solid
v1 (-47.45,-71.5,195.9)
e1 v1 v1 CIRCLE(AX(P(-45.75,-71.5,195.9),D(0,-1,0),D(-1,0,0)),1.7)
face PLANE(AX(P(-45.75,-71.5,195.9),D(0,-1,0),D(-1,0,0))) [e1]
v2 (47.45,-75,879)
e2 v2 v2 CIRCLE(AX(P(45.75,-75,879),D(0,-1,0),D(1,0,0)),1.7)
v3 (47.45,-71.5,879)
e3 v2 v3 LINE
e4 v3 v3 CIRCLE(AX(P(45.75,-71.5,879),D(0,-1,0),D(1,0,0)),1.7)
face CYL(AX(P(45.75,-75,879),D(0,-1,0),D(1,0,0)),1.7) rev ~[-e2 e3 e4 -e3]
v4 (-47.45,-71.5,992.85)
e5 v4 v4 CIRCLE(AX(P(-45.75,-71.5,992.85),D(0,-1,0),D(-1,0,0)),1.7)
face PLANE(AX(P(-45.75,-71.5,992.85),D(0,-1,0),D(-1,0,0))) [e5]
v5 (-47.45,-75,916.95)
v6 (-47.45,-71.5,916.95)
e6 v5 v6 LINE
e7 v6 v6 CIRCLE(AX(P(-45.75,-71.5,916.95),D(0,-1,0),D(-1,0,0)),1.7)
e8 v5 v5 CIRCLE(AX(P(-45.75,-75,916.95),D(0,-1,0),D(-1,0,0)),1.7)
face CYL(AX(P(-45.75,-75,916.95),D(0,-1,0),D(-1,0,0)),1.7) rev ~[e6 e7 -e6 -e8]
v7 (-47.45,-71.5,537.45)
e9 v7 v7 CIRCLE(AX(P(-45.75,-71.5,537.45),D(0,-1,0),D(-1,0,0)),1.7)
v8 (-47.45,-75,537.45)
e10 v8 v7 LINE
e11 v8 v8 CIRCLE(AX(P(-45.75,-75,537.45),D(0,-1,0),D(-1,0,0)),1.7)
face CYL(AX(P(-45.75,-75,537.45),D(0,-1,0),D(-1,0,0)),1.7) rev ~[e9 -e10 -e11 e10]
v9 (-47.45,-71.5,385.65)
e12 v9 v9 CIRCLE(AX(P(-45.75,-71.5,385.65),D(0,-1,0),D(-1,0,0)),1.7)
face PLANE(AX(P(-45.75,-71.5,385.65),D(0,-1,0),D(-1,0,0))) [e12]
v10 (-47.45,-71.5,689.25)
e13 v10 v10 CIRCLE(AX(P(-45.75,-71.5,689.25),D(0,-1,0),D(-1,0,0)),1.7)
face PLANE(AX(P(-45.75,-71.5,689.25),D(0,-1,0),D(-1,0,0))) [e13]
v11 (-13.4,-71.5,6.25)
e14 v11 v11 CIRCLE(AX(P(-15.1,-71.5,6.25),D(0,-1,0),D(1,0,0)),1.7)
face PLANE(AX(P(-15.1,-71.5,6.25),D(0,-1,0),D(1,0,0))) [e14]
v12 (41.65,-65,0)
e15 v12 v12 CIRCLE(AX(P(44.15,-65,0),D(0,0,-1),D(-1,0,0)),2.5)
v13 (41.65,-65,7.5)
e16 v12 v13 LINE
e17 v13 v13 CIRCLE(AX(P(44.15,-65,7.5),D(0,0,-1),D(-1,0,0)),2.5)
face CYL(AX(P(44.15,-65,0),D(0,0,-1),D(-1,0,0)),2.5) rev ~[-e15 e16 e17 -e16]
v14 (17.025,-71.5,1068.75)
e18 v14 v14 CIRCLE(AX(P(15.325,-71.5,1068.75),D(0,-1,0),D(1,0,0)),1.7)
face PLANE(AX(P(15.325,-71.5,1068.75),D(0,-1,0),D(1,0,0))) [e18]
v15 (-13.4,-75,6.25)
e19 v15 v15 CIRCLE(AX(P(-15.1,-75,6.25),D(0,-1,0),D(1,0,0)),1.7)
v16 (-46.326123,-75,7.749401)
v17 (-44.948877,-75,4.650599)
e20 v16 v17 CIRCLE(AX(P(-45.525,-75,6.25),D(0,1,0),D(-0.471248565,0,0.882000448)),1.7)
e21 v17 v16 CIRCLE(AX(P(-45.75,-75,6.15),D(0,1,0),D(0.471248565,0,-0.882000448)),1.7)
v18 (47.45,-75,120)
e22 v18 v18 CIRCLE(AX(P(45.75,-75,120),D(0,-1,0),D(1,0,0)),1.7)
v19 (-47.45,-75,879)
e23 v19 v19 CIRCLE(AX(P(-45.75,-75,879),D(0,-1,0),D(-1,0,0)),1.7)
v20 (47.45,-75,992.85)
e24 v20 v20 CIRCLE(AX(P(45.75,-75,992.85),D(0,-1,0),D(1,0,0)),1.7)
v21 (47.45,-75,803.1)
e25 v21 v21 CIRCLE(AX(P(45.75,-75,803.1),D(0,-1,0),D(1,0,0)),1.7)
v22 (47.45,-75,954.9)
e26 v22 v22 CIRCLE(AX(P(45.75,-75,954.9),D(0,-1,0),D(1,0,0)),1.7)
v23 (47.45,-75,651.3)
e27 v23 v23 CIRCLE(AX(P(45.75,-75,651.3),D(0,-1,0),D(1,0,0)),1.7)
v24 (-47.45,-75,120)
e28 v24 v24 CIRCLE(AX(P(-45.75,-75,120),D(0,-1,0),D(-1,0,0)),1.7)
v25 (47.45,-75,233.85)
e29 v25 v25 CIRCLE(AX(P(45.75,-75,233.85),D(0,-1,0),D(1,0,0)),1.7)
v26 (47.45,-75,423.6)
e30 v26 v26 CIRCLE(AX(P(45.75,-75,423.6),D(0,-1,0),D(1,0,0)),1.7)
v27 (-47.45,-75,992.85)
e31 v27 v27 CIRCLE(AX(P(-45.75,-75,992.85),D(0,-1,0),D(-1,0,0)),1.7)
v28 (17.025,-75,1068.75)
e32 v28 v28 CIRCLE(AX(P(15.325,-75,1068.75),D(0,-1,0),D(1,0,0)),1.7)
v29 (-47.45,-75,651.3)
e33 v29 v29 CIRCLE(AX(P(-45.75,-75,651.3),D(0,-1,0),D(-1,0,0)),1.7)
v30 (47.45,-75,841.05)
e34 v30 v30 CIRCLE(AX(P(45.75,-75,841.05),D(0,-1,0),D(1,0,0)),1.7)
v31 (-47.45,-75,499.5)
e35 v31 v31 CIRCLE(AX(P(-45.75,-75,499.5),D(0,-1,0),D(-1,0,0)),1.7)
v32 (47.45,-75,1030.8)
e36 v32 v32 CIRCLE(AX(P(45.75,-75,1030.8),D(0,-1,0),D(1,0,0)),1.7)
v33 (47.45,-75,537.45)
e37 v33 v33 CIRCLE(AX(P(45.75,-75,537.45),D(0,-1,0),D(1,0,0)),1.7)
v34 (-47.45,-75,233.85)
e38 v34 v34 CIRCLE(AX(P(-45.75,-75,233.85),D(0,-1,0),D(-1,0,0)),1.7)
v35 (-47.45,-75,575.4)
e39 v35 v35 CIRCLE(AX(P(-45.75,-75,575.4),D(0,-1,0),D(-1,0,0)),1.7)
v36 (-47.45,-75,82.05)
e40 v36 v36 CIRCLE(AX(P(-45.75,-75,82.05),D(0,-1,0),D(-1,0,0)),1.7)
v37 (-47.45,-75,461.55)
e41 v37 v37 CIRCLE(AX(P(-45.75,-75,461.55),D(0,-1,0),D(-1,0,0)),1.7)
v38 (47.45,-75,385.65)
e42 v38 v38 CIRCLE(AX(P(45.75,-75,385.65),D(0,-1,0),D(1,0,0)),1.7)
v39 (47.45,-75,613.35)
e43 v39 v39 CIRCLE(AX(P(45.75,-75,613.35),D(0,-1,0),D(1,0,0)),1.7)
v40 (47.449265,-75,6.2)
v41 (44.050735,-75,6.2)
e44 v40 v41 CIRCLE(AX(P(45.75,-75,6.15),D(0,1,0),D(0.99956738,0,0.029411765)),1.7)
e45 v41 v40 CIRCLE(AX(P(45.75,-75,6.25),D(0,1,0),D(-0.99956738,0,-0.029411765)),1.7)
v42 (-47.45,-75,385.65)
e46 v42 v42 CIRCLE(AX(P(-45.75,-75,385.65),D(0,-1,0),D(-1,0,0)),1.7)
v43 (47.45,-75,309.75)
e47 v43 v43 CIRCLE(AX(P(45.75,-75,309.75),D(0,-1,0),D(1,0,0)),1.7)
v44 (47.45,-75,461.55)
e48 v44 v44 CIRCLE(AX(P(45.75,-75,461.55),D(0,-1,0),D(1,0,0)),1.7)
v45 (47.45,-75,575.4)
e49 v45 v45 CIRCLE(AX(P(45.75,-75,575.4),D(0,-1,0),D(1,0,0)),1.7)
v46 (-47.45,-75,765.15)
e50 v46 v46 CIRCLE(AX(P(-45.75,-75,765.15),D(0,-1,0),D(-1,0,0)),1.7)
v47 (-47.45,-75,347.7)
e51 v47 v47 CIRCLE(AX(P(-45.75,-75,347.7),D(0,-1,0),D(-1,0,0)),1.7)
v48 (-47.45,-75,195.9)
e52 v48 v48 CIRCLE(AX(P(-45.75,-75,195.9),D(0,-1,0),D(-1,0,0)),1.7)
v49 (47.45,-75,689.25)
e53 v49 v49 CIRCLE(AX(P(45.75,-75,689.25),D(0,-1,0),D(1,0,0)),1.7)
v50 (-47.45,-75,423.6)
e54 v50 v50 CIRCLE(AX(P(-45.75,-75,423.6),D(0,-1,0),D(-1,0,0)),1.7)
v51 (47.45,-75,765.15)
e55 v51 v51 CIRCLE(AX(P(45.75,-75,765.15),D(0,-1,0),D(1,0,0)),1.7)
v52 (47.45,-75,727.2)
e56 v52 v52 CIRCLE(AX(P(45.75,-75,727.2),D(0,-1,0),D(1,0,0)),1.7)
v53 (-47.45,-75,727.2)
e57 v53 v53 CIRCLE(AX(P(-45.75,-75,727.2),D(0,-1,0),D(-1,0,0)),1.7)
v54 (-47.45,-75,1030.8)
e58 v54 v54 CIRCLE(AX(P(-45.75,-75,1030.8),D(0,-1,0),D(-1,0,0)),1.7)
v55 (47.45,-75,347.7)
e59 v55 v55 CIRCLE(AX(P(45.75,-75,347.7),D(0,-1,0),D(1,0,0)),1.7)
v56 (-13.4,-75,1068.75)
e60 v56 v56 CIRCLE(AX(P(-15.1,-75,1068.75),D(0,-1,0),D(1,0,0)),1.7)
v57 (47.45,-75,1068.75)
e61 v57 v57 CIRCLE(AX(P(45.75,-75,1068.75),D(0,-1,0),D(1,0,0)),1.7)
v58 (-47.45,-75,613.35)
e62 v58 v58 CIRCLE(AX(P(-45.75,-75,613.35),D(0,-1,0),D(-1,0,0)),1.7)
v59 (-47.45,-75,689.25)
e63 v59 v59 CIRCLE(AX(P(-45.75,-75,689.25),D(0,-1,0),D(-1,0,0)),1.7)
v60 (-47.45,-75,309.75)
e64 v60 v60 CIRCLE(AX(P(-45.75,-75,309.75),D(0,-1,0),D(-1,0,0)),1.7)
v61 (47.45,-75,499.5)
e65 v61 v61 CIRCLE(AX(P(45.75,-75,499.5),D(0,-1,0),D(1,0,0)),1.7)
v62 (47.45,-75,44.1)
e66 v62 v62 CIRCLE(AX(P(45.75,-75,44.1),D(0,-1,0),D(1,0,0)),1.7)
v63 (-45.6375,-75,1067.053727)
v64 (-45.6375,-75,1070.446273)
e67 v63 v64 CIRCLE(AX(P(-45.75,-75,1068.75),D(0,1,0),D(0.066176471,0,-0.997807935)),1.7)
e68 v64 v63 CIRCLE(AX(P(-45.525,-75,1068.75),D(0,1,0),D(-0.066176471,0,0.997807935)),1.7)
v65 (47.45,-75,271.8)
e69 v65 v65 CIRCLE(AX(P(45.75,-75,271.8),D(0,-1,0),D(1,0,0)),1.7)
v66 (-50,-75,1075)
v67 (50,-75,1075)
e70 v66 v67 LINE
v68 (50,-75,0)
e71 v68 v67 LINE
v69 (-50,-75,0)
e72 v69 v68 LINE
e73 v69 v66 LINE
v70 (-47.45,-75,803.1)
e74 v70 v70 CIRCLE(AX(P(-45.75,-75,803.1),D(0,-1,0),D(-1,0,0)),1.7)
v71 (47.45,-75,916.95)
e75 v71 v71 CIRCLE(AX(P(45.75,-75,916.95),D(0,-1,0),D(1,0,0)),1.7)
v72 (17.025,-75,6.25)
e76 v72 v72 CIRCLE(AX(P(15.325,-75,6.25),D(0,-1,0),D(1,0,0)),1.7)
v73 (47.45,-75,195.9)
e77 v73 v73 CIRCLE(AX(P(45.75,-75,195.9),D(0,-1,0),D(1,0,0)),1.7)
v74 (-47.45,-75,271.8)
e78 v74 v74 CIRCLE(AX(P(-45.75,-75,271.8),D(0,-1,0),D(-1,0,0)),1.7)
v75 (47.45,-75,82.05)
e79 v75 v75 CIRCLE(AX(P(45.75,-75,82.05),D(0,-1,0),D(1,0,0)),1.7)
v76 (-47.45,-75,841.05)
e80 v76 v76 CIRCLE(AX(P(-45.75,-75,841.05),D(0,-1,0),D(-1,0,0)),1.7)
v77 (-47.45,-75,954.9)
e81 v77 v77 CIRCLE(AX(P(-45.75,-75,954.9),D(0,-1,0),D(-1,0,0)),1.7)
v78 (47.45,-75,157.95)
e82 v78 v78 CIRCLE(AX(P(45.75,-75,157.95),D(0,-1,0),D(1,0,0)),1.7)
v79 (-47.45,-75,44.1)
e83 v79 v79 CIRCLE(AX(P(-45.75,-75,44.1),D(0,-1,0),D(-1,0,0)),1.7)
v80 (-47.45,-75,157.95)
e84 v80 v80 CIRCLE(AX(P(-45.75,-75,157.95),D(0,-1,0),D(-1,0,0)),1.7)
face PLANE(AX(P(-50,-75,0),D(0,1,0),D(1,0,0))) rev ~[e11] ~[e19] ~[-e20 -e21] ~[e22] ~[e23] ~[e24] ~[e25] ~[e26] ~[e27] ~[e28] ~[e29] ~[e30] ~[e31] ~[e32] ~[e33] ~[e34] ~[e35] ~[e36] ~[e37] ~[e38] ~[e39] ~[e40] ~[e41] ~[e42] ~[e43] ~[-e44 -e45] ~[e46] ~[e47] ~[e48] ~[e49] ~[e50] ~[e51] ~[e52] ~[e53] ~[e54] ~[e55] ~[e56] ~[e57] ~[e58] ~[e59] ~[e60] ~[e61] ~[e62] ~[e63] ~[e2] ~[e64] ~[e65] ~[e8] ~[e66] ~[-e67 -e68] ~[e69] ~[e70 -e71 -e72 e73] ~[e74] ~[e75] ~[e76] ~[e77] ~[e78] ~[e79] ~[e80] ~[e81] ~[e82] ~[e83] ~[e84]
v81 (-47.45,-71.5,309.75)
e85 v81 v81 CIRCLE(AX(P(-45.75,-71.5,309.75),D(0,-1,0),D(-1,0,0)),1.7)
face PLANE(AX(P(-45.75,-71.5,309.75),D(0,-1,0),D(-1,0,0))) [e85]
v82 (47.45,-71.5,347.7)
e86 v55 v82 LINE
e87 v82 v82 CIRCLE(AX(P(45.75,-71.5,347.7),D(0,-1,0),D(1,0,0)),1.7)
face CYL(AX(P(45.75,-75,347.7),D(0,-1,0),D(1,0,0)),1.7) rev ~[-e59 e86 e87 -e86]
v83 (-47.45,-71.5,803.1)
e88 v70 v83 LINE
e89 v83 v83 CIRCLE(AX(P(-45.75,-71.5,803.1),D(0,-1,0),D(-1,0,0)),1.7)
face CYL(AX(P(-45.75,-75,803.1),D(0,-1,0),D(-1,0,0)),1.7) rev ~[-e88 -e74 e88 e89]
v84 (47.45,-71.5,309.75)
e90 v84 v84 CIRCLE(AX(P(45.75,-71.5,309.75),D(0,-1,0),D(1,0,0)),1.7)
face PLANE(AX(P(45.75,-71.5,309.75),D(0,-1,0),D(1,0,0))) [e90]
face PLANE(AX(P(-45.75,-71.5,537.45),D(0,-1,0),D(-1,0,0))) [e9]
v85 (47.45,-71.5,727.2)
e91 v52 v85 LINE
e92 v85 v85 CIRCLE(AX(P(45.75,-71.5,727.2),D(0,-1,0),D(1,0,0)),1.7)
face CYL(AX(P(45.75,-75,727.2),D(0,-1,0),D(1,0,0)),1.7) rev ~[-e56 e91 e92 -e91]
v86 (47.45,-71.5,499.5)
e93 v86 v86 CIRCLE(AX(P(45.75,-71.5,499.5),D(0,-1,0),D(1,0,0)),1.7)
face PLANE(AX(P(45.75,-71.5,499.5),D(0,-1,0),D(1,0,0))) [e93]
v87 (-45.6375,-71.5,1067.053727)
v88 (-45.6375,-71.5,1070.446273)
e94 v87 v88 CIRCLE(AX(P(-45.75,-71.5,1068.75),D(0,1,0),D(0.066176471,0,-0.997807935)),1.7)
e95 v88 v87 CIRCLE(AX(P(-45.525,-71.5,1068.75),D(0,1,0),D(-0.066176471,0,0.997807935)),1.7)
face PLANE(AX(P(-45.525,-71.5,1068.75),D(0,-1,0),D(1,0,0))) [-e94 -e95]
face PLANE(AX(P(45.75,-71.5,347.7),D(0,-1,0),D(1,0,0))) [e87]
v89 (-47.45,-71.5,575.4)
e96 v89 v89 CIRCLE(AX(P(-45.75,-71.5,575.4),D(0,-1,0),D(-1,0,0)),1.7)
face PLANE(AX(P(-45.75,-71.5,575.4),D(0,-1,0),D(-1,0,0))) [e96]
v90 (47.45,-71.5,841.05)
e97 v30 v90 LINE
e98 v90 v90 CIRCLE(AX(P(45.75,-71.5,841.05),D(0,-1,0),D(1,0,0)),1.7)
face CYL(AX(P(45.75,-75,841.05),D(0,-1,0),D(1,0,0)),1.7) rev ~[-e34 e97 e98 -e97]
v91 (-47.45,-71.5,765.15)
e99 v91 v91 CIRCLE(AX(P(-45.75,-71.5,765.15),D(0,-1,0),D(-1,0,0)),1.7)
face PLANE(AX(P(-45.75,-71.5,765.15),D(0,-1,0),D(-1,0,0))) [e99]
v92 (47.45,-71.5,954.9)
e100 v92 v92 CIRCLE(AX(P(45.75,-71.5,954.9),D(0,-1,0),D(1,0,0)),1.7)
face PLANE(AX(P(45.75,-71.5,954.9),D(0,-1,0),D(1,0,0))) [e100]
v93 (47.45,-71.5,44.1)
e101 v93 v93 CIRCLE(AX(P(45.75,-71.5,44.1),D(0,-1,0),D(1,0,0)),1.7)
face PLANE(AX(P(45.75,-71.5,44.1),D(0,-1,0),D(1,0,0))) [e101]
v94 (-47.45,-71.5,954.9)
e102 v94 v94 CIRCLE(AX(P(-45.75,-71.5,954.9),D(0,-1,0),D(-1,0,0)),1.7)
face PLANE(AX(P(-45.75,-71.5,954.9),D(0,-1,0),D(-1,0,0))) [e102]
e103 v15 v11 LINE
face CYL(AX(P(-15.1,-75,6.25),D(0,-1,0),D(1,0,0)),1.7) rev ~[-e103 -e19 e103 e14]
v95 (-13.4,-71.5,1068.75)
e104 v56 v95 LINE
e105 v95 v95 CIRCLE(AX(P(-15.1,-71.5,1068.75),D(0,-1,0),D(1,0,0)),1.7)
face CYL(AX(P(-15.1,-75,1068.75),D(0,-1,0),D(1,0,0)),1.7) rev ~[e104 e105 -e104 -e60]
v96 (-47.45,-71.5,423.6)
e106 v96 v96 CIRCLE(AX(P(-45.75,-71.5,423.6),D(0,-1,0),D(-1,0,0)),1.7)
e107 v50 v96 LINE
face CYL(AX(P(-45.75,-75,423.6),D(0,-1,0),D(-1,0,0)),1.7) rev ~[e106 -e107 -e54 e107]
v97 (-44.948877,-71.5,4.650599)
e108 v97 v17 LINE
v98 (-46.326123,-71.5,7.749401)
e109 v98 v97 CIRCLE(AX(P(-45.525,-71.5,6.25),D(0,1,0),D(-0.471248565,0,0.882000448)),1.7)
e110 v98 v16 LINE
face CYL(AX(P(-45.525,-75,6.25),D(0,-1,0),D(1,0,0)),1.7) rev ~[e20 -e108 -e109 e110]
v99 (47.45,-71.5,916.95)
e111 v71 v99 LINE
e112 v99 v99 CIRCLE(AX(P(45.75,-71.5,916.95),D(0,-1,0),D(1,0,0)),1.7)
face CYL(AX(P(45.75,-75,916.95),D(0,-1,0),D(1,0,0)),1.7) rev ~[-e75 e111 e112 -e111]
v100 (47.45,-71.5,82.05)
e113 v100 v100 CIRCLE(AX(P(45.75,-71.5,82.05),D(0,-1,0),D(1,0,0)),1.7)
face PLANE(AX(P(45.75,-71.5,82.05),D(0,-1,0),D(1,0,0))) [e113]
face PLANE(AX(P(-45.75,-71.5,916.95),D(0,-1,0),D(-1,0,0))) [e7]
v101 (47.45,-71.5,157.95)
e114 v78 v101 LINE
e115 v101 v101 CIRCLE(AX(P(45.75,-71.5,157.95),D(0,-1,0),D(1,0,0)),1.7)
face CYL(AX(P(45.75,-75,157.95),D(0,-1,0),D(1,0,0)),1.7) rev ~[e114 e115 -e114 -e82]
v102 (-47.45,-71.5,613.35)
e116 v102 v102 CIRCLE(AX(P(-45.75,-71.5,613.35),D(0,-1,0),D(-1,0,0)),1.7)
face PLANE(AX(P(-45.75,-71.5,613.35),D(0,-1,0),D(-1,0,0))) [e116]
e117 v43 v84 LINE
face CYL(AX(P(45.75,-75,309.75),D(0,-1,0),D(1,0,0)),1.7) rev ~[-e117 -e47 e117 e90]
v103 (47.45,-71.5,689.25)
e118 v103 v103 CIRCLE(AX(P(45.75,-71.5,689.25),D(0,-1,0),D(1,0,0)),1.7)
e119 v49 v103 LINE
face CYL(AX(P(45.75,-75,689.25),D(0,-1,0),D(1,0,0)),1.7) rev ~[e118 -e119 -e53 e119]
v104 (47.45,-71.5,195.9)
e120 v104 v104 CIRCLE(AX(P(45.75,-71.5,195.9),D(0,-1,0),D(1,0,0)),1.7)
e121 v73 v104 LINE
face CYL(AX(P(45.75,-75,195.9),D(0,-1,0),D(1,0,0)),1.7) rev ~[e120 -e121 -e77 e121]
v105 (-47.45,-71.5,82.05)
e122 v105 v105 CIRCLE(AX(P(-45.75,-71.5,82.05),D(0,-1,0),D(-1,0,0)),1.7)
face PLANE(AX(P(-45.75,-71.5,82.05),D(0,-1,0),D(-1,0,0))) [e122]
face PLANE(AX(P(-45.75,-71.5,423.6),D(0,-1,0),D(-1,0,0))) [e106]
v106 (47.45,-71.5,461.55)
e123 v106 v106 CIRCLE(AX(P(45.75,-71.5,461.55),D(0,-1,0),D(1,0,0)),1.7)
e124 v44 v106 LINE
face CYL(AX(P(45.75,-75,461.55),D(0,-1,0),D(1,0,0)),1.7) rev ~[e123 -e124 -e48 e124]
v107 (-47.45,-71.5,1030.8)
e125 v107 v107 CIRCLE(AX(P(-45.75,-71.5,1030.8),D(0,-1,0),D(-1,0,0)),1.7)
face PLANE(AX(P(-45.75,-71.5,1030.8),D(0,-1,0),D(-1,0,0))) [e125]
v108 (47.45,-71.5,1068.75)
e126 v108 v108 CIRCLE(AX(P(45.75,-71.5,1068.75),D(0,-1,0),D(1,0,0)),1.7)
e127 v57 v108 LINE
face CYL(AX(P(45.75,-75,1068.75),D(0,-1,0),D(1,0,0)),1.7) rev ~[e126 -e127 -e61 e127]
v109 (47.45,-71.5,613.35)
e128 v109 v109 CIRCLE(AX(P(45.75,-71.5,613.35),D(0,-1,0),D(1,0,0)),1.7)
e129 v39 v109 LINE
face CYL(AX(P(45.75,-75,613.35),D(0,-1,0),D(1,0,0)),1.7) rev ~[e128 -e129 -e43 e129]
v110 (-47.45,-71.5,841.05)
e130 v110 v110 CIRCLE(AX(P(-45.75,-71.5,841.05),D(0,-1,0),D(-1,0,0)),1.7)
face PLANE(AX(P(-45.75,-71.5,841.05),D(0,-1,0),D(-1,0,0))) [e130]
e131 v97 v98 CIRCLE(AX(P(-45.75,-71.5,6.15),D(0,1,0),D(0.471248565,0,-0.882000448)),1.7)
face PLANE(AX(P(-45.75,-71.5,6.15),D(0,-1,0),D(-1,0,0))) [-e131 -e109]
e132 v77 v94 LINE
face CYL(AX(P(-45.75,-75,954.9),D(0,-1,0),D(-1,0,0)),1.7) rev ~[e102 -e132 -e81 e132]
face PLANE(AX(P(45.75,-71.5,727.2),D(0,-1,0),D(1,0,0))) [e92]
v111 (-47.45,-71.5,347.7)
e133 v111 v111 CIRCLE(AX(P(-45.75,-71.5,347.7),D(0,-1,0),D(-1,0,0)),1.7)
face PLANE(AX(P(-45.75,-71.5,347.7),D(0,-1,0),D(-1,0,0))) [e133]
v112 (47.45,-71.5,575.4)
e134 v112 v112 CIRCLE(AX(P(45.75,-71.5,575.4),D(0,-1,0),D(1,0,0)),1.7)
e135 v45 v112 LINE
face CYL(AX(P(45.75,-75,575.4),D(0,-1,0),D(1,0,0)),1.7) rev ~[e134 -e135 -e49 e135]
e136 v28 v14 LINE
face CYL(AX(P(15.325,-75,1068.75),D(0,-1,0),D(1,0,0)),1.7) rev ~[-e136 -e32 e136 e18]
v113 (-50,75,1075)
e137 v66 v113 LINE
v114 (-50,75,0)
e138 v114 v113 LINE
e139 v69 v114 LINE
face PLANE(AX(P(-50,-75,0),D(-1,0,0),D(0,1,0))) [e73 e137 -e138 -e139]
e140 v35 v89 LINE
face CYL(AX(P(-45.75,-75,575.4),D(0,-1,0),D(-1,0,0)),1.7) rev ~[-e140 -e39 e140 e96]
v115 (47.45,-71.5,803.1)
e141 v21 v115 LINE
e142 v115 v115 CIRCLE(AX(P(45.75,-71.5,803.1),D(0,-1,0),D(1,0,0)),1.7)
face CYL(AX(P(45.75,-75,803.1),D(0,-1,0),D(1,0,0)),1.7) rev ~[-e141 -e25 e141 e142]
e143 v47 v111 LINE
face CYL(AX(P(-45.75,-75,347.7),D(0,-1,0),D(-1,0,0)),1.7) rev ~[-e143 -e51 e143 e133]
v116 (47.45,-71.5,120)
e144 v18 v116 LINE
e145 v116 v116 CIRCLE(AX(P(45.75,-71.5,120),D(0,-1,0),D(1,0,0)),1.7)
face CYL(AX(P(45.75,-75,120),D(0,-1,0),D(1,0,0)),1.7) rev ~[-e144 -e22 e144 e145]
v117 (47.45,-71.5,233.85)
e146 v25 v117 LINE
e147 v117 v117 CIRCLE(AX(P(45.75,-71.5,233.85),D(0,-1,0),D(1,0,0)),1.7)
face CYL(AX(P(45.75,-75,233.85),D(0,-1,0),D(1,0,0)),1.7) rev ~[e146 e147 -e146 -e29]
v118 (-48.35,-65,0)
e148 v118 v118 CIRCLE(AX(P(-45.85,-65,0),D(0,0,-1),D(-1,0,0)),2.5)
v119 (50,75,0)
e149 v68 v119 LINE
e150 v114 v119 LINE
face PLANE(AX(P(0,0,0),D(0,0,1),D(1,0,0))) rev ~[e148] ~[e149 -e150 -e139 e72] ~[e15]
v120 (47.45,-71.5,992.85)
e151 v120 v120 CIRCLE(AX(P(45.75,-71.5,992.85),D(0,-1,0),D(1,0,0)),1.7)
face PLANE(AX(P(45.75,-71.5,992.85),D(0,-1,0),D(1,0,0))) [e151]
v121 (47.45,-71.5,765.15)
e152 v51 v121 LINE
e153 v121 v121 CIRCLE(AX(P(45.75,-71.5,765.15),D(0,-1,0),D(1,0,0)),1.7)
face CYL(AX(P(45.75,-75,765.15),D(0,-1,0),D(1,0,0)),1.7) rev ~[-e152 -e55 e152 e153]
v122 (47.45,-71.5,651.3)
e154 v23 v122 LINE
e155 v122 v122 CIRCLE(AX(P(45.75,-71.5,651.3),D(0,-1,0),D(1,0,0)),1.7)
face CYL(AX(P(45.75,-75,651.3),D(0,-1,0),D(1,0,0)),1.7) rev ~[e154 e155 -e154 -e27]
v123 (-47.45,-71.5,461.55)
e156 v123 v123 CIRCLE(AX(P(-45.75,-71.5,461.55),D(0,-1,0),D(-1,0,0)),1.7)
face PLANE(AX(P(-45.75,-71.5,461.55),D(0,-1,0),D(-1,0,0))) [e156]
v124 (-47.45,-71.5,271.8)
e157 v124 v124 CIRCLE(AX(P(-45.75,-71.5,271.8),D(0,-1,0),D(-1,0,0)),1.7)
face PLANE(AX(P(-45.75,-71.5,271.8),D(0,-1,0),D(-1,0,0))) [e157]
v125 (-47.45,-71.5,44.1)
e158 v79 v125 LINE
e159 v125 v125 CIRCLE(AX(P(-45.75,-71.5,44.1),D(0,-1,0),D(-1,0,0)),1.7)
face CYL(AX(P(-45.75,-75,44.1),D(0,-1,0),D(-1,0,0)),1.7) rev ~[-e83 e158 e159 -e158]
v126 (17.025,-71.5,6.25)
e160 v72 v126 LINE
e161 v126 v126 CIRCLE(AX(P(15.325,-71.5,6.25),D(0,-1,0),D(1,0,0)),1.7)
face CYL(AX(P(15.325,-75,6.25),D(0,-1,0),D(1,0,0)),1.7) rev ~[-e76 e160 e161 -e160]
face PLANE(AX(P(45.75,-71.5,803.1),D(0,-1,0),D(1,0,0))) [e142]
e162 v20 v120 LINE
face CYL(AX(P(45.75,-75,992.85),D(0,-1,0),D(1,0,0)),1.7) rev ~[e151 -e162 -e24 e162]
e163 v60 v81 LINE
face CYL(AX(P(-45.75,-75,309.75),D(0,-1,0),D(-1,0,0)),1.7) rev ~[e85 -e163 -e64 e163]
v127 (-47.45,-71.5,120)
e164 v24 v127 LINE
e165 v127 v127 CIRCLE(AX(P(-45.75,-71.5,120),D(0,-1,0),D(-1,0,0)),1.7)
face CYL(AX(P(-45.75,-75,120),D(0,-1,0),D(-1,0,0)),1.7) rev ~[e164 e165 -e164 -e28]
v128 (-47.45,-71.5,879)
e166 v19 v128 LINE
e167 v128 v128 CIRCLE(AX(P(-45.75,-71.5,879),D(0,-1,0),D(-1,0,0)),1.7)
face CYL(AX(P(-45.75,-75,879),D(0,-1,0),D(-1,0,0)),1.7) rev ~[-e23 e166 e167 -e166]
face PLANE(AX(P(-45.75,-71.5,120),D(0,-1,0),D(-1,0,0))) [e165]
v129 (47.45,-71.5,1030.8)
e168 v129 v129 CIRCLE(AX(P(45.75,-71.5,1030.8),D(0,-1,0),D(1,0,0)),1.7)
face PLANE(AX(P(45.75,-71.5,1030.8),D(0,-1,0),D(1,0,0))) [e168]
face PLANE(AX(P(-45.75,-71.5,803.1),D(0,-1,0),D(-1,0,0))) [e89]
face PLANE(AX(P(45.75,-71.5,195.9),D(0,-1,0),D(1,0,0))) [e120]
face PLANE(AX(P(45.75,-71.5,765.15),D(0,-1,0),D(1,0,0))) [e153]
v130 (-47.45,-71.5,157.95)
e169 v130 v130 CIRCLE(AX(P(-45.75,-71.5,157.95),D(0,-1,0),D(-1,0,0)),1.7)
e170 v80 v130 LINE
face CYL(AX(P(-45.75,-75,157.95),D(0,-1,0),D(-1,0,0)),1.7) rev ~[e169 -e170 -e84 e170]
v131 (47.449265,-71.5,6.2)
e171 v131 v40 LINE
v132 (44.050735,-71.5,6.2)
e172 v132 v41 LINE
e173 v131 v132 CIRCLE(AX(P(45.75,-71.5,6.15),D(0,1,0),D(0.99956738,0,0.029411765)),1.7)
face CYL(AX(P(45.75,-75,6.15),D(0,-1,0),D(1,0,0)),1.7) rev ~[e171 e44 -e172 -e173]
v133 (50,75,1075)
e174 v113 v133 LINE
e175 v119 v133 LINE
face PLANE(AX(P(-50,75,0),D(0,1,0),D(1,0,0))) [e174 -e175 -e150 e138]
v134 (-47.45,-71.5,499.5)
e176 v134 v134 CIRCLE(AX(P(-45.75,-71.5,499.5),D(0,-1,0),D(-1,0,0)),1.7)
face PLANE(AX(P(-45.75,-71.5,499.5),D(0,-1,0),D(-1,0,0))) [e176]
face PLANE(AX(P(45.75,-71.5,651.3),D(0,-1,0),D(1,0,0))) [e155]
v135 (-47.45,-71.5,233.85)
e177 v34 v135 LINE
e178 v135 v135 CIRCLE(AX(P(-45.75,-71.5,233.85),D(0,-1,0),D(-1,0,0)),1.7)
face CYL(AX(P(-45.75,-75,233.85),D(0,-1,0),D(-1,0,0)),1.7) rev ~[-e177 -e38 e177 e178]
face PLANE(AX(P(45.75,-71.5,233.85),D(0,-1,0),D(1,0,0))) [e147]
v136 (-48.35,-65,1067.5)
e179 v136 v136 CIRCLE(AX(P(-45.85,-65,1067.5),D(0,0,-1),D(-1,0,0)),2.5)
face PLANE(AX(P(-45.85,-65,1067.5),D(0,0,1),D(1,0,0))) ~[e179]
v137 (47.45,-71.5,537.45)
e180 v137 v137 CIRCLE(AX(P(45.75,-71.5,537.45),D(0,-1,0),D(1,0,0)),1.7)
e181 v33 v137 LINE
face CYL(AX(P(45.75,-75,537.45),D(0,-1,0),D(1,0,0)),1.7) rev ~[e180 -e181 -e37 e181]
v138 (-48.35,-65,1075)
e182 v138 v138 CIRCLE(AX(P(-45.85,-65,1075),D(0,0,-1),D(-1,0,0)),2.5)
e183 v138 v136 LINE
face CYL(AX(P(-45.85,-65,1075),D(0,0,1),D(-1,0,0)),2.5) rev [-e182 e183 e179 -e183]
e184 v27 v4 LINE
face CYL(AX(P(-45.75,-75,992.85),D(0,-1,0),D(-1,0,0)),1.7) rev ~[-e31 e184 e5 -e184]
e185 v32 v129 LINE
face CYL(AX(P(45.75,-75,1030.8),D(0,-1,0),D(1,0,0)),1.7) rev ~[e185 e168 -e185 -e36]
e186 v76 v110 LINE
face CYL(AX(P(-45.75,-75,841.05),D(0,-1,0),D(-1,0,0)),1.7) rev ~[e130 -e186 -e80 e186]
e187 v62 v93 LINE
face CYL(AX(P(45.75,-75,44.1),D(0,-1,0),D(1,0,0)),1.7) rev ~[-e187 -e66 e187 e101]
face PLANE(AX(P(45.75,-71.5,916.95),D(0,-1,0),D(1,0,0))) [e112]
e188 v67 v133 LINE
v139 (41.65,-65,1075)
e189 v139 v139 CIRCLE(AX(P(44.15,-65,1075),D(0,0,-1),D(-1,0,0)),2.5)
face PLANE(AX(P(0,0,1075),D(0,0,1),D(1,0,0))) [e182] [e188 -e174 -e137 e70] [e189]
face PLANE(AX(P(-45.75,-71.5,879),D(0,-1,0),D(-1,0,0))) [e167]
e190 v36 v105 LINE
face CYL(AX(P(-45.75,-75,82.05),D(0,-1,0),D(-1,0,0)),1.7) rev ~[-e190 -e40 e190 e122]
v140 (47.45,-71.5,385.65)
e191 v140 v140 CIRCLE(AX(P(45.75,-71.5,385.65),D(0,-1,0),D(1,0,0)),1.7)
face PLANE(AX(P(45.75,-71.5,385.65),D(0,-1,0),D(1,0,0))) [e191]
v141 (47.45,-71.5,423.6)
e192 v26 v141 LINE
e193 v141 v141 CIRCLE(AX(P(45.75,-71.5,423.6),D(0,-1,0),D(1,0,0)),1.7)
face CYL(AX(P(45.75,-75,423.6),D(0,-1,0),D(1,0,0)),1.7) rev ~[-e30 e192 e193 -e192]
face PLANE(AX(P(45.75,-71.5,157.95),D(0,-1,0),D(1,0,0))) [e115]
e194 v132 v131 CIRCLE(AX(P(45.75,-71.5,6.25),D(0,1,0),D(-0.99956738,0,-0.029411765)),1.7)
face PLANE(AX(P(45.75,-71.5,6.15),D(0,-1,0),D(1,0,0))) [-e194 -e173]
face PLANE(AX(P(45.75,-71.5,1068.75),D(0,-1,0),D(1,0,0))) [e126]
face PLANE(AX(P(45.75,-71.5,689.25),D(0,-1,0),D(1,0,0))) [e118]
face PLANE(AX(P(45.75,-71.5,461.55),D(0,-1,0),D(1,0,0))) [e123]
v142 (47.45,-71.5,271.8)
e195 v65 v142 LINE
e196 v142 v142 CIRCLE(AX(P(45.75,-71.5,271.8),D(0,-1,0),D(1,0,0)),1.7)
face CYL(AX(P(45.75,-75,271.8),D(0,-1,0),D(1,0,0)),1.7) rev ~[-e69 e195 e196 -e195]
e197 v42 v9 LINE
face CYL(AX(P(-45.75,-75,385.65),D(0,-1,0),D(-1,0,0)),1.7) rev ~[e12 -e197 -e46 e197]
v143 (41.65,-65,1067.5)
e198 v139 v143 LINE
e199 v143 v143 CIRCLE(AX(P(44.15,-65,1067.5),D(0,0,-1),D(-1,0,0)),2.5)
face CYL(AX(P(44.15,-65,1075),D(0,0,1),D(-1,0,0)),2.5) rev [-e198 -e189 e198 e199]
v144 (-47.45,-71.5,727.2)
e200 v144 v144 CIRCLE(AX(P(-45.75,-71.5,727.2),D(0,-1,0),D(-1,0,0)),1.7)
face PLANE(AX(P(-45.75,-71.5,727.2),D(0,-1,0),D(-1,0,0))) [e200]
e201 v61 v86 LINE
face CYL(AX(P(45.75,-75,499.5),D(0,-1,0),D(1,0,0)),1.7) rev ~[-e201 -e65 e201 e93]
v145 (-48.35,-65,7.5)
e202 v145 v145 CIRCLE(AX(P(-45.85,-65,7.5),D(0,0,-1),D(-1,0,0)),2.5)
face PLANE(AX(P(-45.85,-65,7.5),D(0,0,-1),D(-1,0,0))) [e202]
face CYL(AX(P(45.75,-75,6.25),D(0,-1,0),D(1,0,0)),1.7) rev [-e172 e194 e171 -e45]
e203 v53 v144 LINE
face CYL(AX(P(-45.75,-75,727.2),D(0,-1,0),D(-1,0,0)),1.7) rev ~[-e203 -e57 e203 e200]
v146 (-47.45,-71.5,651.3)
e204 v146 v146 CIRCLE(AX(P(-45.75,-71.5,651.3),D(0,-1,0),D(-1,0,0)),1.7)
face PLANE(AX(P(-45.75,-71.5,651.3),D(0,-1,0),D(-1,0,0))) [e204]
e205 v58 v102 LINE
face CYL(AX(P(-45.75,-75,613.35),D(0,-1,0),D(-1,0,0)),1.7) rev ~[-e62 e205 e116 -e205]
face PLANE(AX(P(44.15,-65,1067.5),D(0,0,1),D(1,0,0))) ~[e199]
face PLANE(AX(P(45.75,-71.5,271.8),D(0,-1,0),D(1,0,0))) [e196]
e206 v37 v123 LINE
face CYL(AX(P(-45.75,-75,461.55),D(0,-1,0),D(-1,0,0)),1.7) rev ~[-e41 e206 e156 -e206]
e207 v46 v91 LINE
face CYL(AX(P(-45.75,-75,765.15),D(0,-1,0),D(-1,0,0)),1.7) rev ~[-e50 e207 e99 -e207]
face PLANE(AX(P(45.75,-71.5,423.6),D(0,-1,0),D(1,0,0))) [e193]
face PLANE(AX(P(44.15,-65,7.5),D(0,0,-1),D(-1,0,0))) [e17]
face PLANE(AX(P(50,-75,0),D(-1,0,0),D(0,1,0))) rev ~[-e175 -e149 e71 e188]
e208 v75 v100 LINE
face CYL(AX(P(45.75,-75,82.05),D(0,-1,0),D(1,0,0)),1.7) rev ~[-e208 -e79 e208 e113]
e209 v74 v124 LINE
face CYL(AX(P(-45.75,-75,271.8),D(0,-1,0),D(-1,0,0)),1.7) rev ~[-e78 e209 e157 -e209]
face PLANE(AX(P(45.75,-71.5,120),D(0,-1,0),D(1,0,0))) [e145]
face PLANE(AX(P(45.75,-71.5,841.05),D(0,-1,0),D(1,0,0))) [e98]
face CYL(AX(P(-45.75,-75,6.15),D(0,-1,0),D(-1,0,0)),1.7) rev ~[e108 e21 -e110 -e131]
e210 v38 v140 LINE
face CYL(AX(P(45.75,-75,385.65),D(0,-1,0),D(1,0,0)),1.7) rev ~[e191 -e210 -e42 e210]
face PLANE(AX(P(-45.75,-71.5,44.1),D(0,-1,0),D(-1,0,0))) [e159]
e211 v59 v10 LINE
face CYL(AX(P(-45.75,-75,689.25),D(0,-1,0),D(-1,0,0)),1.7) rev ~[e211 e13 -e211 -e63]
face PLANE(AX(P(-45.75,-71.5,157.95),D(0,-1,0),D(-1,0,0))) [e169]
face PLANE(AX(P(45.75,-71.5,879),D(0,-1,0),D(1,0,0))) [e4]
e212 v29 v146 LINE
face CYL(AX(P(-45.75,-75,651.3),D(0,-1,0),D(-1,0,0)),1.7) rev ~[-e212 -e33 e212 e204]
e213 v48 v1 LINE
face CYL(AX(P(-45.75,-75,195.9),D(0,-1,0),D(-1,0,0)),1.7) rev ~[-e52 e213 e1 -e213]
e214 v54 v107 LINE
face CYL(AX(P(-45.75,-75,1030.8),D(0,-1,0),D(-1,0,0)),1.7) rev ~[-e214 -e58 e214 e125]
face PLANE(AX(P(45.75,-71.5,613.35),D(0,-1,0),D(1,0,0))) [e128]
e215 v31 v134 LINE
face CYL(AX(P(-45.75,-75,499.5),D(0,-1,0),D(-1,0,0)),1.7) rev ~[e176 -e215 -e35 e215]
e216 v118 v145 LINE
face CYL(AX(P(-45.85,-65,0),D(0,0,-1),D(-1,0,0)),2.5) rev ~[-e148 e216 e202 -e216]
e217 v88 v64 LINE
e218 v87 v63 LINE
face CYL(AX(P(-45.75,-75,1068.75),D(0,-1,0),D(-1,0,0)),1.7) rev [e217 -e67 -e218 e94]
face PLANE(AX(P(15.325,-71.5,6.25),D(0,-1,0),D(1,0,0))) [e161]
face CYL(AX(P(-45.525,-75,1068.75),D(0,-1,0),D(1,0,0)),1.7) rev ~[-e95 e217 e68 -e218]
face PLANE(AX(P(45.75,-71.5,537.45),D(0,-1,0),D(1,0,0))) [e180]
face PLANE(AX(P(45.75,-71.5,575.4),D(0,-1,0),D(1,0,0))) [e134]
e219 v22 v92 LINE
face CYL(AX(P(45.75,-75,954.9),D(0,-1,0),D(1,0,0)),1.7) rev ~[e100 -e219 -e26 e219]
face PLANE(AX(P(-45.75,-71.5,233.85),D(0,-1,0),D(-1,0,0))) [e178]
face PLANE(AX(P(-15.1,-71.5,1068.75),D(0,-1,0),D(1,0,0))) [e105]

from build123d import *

# Parameters (mm, degrees)
SKETCH1_W                = 100
SKETCH1_H                = 150
BOSS_EXTRUDE1_DEPTH      = 1075
SKETCH3_R                = 1.7
CUT_EXTRUDE1_DEPTH       = 3.5
LPATTERN1_COUNT          = 29
LPATTERN1_PITCH          = 37.95
LPATTERN2_COUNT          = 4
LPATTERN2_PITCH          = 30.425
MIRROR1_COPY_1_SKETCH_R  = 1.7
MIRROR1_COPY_1_DEPTH     = 3.5
MIRROR1_COPY_2_SKETCH_R  = 1.7
MIRROR1_COPY_2_DEPTH     = 3.5
MIRROR1_COPY_3_SKETCH_R  = 1.7
MIRROR1_COPY_3_DEPTH     = 3.5
MIRROR1_COPY_4_SKETCH_R  = 1.7
MIRROR1_COPY_4_DEPTH     = 3.5
MIRROR1_COPY_5_SKETCH_R  = 1.7
MIRROR1_COPY_5_DEPTH     = 3.5
MIRROR1_COPY_6_SKETCH_R  = 1.7
MIRROR1_COPY_6_DEPTH     = 3.5
MIRROR1_COPY_7_SKETCH_R  = 1.7
MIRROR1_COPY_7_DEPTH     = 3.5
MIRROR1_COPY_8_SKETCH_R  = 1.7
MIRROR1_COPY_8_DEPTH     = 3.5
MIRROR1_COPY_9_SKETCH_R  = 1.7
MIRROR1_COPY_9_DEPTH     = 3.5
MIRROR1_COPY_10_SKETCH_R = 1.7
MIRROR1_COPY_10_DEPTH    = 3.5
MIRROR1_COPY_11_SKETCH_R = 1.7
MIRROR1_COPY_11_DEPTH    = 3.5
MIRROR1_COPY_12_SKETCH_R = 1.7
MIRROR1_COPY_12_DEPTH    = 3.5
MIRROR1_COPY_13_SKETCH_R = 1.7
MIRROR1_COPY_13_DEPTH    = 3.5
MIRROR1_COPY_14_SKETCH_R = 1.7
MIRROR1_COPY_14_DEPTH    = 3.5
MIRROR1_COPY_15_SKETCH_R = 1.7
MIRROR1_COPY_15_DEPTH    = 3.5
MIRROR1_COPY_16_SKETCH_R = 1.7
MIRROR1_COPY_16_DEPTH    = 3.5
MIRROR1_COPY_17_SKETCH_R = 1.7
MIRROR1_COPY_17_DEPTH    = 3.5
MIRROR1_COPY_18_SKETCH_R = 1.7
MIRROR1_COPY_18_DEPTH    = 3.5
MIRROR1_COPY_19_SKETCH_R = 1.7
MIRROR1_COPY_19_DEPTH    = 3.5
MIRROR1_COPY_20_SKETCH_R = 1.7
MIRROR1_COPY_20_DEPTH    = 3.5
MIRROR1_COPY_21_SKETCH_R = 1.7
MIRROR1_COPY_21_DEPTH    = 3.5
MIRROR1_COPY_22_SKETCH_R = 1.7
MIRROR1_COPY_22_DEPTH    = 3.5
MIRROR1_COPY_23_SKETCH_R = 1.7
MIRROR1_COPY_23_DEPTH    = 3.5
MIRROR1_COPY_24_SKETCH_R = 1.7
MIRROR1_COPY_24_DEPTH    = 3.5
MIRROR1_COPY_25_SKETCH_R = 1.7
MIRROR1_COPY_25_DEPTH    = 3.5
MIRROR1_COPY_26_SKETCH_R = 1.7
MIRROR1_COPY_26_DEPTH    = 3.5
MIRROR1_COPY_27_SKETCH_R = 1.7
MIRROR1_COPY_27_DEPTH    = 3.5
MIRROR1_COPY_28_SKETCH_R = 1.7
MIRROR1_COPY_28_DEPTH    = 3.5
MIRROR2_COPY_1_SKETCH_R  = 1.7
MIRROR2_COPY_1_DEPTH     = 3.5
MIRROR2_COPY_2_SKETCH_R  = 1.7
MIRROR2_COPY_2_DEPTH     = 3.5
MIRROR2_COPY_3_SKETCH_R  = 1.7
MIRROR2_COPY_3_DEPTH     = 3.5
SKETCH4_R                = 2.5
CUT_EXTRUDE2_DEPTH       = 7.5


with BuildPart() as part:
    # Sketch1 → Boss-Extrude1 (new body)
    with BuildSketch(Plane.XY):
        Rectangle(SKETCH1_W, SKETCH1_H)
    extrude(amount=BOSS_EXTRUDE1_DEPTH)

    # Sketch3 → Cut-Extrude1 (cut)
    with BuildSketch(Plane.XZ.offset(75)):
        with Locations((45.75, 1068.75)):
            Circle(SKETCH3_R)
    cut_extrude1 = extrude(amount=-CUT_EXTRUDE1_DEPTH, mode=Mode.SUBTRACT)

    # LPattern1: Cut-Extrude1 ×29
    with Locations(*[(0, 0, -i * LPATTERN1_PITCH) for i in range(1, LPATTERN1_COUNT)]):
        add(cut_extrude1, mode=Mode.SUBTRACT)

    # LPattern2: Cut-Extrude1 ×4
    with Locations(*[(-i * LPATTERN2_PITCH, 0, 0) for i in range(1, LPATTERN2_COUNT)]):
        add(cut_extrude1, mode=Mode.SUBTRACT)

    # Mirror1: Cut-Extrude1 across plane
    add(cut_extrude1.mirror(Plane.ZY), mode=Mode.SUBTRACT)

    # Mirror1 copy 1 sketch → Mirror1 copy 1 (cut)
    with BuildSketch(Plane(origin=(0, -75, -37.95), x_dir=(-1, 0, 0), z_dir=(0, -1, 0))):
        with Locations((45.75, -1068.75)):
            Circle(MIRROR1_COPY_1_SKETCH_R)
    extrude(amount=-MIRROR1_COPY_1_DEPTH, mode=Mode.SUBTRACT)

    # Mirror1 copy 2 sketch → Mirror1 copy 2 (cut)
    with BuildSketch(Plane(origin=(0, -75, -75.9), x_dir=(-1, 0, 0), z_dir=(0, -1, 0))):
        with Locations((45.75, -1068.75)):
            Circle(MIRROR1_COPY_2_SKETCH_R)
    extrude(amount=-MIRROR1_COPY_2_DEPTH, mode=Mode.SUBTRACT)

    # Mirror1 copy 3 sketch → Mirror1 copy 3 (cut)
    with BuildSketch(Plane(origin=(0, -75, -113.85), x_dir=(-1, 0, 0), z_dir=(0, -1, 0))):
        with Locations((45.75, -1068.75)):
            Circle(MIRROR1_COPY_3_SKETCH_R)
    extrude(amount=-MIRROR1_COPY_3_DEPTH, mode=Mode.SUBTRACT)

    # Mirror1 copy 4 sketch → Mirror1 copy 4 (cut)
    with BuildSketch(Plane(origin=(0, -75, -151.8), x_dir=(-1, 0, 0), z_dir=(0, -1, 0))):
        with Locations((45.75, -1068.75)):
            Circle(MIRROR1_COPY_4_SKETCH_R)
    extrude(amount=-MIRROR1_COPY_4_DEPTH, mode=Mode.SUBTRACT)

    # Mirror1 copy 5 sketch → Mirror1 copy 5 (cut)
    with BuildSketch(Plane(origin=(0, -75, -189.75), x_dir=(-1, 0, 0), z_dir=(0, -1, 0))):
        with Locations((45.75, -1068.75)):
            Circle(MIRROR1_COPY_5_SKETCH_R)
    extrude(amount=-MIRROR1_COPY_5_DEPTH, mode=Mode.SUBTRACT)

    # Mirror1 copy 6 sketch → Mirror1 copy 6 (cut)
    with BuildSketch(Plane(origin=(0, -75, -227.7), x_dir=(-1, 0, 0), z_dir=(0, -1, 0))):
        with Locations((45.75, -1068.75)):
            Circle(MIRROR1_COPY_6_SKETCH_R)
    extrude(amount=-MIRROR1_COPY_6_DEPTH, mode=Mode.SUBTRACT)

    # Mirror1 copy 7 sketch → Mirror1 copy 7 (cut)
    with BuildSketch(Plane(origin=(0, -75, -265.65), x_dir=(-1, 0, 0), z_dir=(0, -1, 0))):
        with Locations((45.75, -1068.75)):
            Circle(MIRROR1_COPY_7_SKETCH_R)
    extrude(amount=-MIRROR1_COPY_7_DEPTH, mode=Mode.SUBTRACT)

    # Mirror1 copy 8 sketch → Mirror1 copy 8 (cut)
    with BuildSketch(Plane(origin=(0, -75, -303.6), x_dir=(-1, 0, 0), z_dir=(0, -1, 0))):
        with Locations((45.75, -1068.75)):
            Circle(MIRROR1_COPY_8_SKETCH_R)
    extrude(amount=-MIRROR1_COPY_8_DEPTH, mode=Mode.SUBTRACT)

    # Mirror1 copy 9 sketch → Mirror1 copy 9 (cut)
    with BuildSketch(Plane(origin=(0, -75, -341.55), x_dir=(-1, 0, 0), z_dir=(0, -1, 0))):
        with Locations((45.75, -1068.75)):
            Circle(MIRROR1_COPY_9_SKETCH_R)
    extrude(amount=-MIRROR1_COPY_9_DEPTH, mode=Mode.SUBTRACT)

    # Mirror1 copy 10 sketch → Mirror1 copy 10 (cut)
    with BuildSketch(Plane(origin=(0, -75, -379.5), x_dir=(-1, 0, 0), z_dir=(0, -1, 0))):
        with Locations((45.75, -1068.75)):
            Circle(MIRROR1_COPY_10_SKETCH_R)
    extrude(amount=-MIRROR1_COPY_10_DEPTH, mode=Mode.SUBTRACT)

    # Mirror1 copy 11 sketch → Mirror1 copy 11 (cut)
    with BuildSketch(Plane(origin=(0, -75, -417.45), x_dir=(-1, 0, 0), z_dir=(0, -1, 0))):
        with Locations((45.75, -1068.75)):
            Circle(MIRROR1_COPY_11_SKETCH_R)
    extrude(amount=-MIRROR1_COPY_11_DEPTH, mode=Mode.SUBTRACT)

    # Mirror1 copy 12 sketch → Mirror1 copy 12 (cut)
    with BuildSketch(Plane(origin=(0, -75, -455.4), x_dir=(-1, 0, 0), z_dir=(0, -1, 0))):
        with Locations((45.75, -1068.75)):
            Circle(MIRROR1_COPY_12_SKETCH_R)
    extrude(amount=-MIRROR1_COPY_12_DEPTH, mode=Mode.SUBTRACT)

    # Mirror1 copy 13 sketch → Mirror1 copy 13 (cut)
    with BuildSketch(Plane(origin=(0, -75, -493.35), x_dir=(-1, 0, 0), z_dir=(0, -1, 0))):
        with Locations((45.75, -1068.75)):
            Circle(MIRROR1_COPY_13_SKETCH_R)
    extrude(amount=-MIRROR1_COPY_13_DEPTH, mode=Mode.SUBTRACT)

    # Mirror1 copy 14 sketch → Mirror1 copy 14 (cut)
    with BuildSketch(Plane(origin=(0, -75, -531.3), x_dir=(-1, 0, 0), z_dir=(0, -1, 0))):
        with Locations((45.75, -1068.75)):
            Circle(MIRROR1_COPY_14_SKETCH_R)
    extrude(amount=-MIRROR1_COPY_14_DEPTH, mode=Mode.SUBTRACT)

    # Mirror1 copy 15 sketch → Mirror1 copy 15 (cut)
    with BuildSketch(Plane(origin=(0, -75, -569.25), x_dir=(-1, 0, 0), z_dir=(0, -1, 0))):
        with Locations((45.75, -1068.75)):
            Circle(MIRROR1_COPY_15_SKETCH_R)
    extrude(amount=-MIRROR1_COPY_15_DEPTH, mode=Mode.SUBTRACT)

    # Mirror1 copy 16 sketch → Mirror1 copy 16 (cut)
    with BuildSketch(Plane(origin=(0, -75, -607.2), x_dir=(-1, 0, 0), z_dir=(0, -1, 0))):
        with Locations((45.75, -1068.75)):
            Circle(MIRROR1_COPY_16_SKETCH_R)
    extrude(amount=-MIRROR1_COPY_16_DEPTH, mode=Mode.SUBTRACT)

    # Mirror1 copy 17 sketch → Mirror1 copy 17 (cut)
    with BuildSketch(Plane(origin=(0, -75, -645.15), x_dir=(-1, 0, 0), z_dir=(0, -1, 0))):
        with Locations((45.75, -1068.75)):
            Circle(MIRROR1_COPY_17_SKETCH_R)
    extrude(amount=-MIRROR1_COPY_17_DEPTH, mode=Mode.SUBTRACT)

    # Mirror1 copy 18 sketch → Mirror1 copy 18 (cut)
    with BuildSketch(Plane(origin=(0, -75, -683.1), x_dir=(-1, 0, 0), z_dir=(0, -1, 0))):
        with Locations((45.75, -1068.75)):
            Circle(MIRROR1_COPY_18_SKETCH_R)
    extrude(amount=-MIRROR1_COPY_18_DEPTH, mode=Mode.SUBTRACT)

    # Mirror1 copy 19 sketch → Mirror1 copy 19 (cut)
    with BuildSketch(Plane(origin=(0, -75, -721.05), x_dir=(-1, 0, 0), z_dir=(0, -1, 0))):
        with Locations((45.75, -1068.75)):
            Circle(MIRROR1_COPY_19_SKETCH_R)
    extrude(amount=-MIRROR1_COPY_19_DEPTH, mode=Mode.SUBTRACT)

    # Mirror1 copy 20 sketch → Mirror1 copy 20 (cut)
    with BuildSketch(Plane(origin=(0, -75, -759), x_dir=(-1, 0, 0), z_dir=(0, -1, 0))):
        with Locations((45.75, -1068.75)):
            Circle(MIRROR1_COPY_20_SKETCH_R)
    extrude(amount=-MIRROR1_COPY_20_DEPTH, mode=Mode.SUBTRACT)

    # Mirror1 copy 21 sketch → Mirror1 copy 21 (cut)
    with BuildSketch(Plane(origin=(0, -75, -796.95), x_dir=(-1, 0, 0), z_dir=(0, -1, 0))):
        with Locations((45.75, -1068.75)):
            Circle(MIRROR1_COPY_21_SKETCH_R)
    extrude(amount=-MIRROR1_COPY_21_DEPTH, mode=Mode.SUBTRACT)

    # Mirror1 copy 22 sketch → Mirror1 copy 22 (cut)
    with BuildSketch(Plane(origin=(0, -75, -834.9), x_dir=(-1, 0, 0), z_dir=(0, -1, 0))):
        with Locations((45.75, -1068.75)):
            Circle(MIRROR1_COPY_22_SKETCH_R)
    extrude(amount=-MIRROR1_COPY_22_DEPTH, mode=Mode.SUBTRACT)

    # Mirror1 copy 23 sketch → Mirror1 copy 23 (cut)
    with BuildSketch(Plane(origin=(0, -75, -872.85), x_dir=(-1, 0, 0), z_dir=(0, -1, 0))):
        with Locations((45.75, -1068.75)):
            Circle(MIRROR1_COPY_23_SKETCH_R)
    extrude(amount=-MIRROR1_COPY_23_DEPTH, mode=Mode.SUBTRACT)

    # Mirror1 copy 24 sketch → Mirror1 copy 24 (cut)
    with BuildSketch(Plane(origin=(0, -75, -910.8), x_dir=(-1, 0, 0), z_dir=(0, -1, 0))):
        with Locations((45.75, -1068.75)):
            Circle(MIRROR1_COPY_24_SKETCH_R)
    extrude(amount=-MIRROR1_COPY_24_DEPTH, mode=Mode.SUBTRACT)

    # Mirror1 copy 25 sketch → Mirror1 copy 25 (cut)
    with BuildSketch(Plane(origin=(0, -75, -948.75), x_dir=(-1, 0, 0), z_dir=(0, -1, 0))):
        with Locations((45.75, -1068.75)):
            Circle(MIRROR1_COPY_25_SKETCH_R)
    extrude(amount=-MIRROR1_COPY_25_DEPTH, mode=Mode.SUBTRACT)

    # Mirror1 copy 26 sketch → Mirror1 copy 26 (cut)
    with BuildSketch(Plane(origin=(0, -75, -986.7), x_dir=(-1, 0, 0), z_dir=(0, -1, 0))):
        with Locations((45.75, -1068.75)):
            Circle(MIRROR1_COPY_26_SKETCH_R)
    extrude(amount=-MIRROR1_COPY_26_DEPTH, mode=Mode.SUBTRACT)

    # Mirror1 copy 27 sketch → Mirror1 copy 27 (cut)
    with BuildSketch(Plane(origin=(0, -75, -1024.65), x_dir=(-1, 0, 0), z_dir=(0, -1, 0))):
        with Locations((45.75, -1068.75)):
            Circle(MIRROR1_COPY_27_SKETCH_R)
    extrude(amount=-MIRROR1_COPY_27_DEPTH, mode=Mode.SUBTRACT)

    # Mirror1 copy 28 sketch → Mirror1 copy 28 (cut)
    with BuildSketch(Plane(origin=(0, -75, -1062.6), x_dir=(-1, 0, 0), z_dir=(0, -1, 0))):
        with Locations((45.75, -1068.75)):
            Circle(MIRROR1_COPY_28_SKETCH_R)
    extrude(amount=-MIRROR1_COPY_28_DEPTH, mode=Mode.SUBTRACT)

    # Mirror2: Cut-Extrude1 across plane
    add(cut_extrude1.mirror(Plane(origin=(0, 0, 537.5), x_dir=(1, 0, 0), z_dir=(0, 0, -1))), mode=Mode.SUBTRACT)

    # Mirror2 copy 1 sketch → Mirror2 copy 1 (cut)
    with BuildSketch(Plane(origin=(-30.425, -75, 1075), x_dir=(1, 0, 0), z_dir=(0, -1, 0))):
        with Locations((45.75, -1068.75)):
            Circle(MIRROR2_COPY_1_SKETCH_R)
    extrude(amount=-MIRROR2_COPY_1_DEPTH, mode=Mode.SUBTRACT)

    # Mirror2 copy 2 sketch → Mirror2 copy 2 (cut)
    with BuildSketch(Plane(origin=(-60.85, -75, 1075), x_dir=(1, 0, 0), z_dir=(0, -1, 0))):
        with Locations((45.75, -1068.75)):
            Circle(MIRROR2_COPY_2_SKETCH_R)
    extrude(amount=-MIRROR2_COPY_2_DEPTH, mode=Mode.SUBTRACT)

    # Mirror2 copy 3 sketch → Mirror2 copy 3 (cut)
    with BuildSketch(Plane(origin=(-91.275, -75, 1075), x_dir=(1, 0, 0), z_dir=(0, -1, 0))):
        with Locations((45.75, -1068.75)):
            Circle(MIRROR2_COPY_3_SKETCH_R)
    extrude(amount=-MIRROR2_COPY_3_DEPTH, mode=Mode.SUBTRACT)

    # Sketch4 → Cut-Extrude2 (cut)
    with BuildSketch(Plane(origin=(0, 0, 0), x_dir=(-1, 0, 0), z_dir=(0, 0, -1))):
        with Locations((-44.15, -65)):
            Circle(SKETCH4_R)
        with Locations((45.85, -65)):
            Circle(SKETCH4_R)
    cut_extrude2 = extrude(amount=-CUT_EXTRUDE2_DEPTH, mode=Mode.SUBTRACT)

    # Mirror3: Cut-Extrude2 across plane
    add(cut_extrude2.mirror(Plane(origin=(0, 0, 537.5), x_dir=(1, 0, 0), z_dir=(0, 0, -1))), mode=Mode.SUBTRACT)


solid = part.part
